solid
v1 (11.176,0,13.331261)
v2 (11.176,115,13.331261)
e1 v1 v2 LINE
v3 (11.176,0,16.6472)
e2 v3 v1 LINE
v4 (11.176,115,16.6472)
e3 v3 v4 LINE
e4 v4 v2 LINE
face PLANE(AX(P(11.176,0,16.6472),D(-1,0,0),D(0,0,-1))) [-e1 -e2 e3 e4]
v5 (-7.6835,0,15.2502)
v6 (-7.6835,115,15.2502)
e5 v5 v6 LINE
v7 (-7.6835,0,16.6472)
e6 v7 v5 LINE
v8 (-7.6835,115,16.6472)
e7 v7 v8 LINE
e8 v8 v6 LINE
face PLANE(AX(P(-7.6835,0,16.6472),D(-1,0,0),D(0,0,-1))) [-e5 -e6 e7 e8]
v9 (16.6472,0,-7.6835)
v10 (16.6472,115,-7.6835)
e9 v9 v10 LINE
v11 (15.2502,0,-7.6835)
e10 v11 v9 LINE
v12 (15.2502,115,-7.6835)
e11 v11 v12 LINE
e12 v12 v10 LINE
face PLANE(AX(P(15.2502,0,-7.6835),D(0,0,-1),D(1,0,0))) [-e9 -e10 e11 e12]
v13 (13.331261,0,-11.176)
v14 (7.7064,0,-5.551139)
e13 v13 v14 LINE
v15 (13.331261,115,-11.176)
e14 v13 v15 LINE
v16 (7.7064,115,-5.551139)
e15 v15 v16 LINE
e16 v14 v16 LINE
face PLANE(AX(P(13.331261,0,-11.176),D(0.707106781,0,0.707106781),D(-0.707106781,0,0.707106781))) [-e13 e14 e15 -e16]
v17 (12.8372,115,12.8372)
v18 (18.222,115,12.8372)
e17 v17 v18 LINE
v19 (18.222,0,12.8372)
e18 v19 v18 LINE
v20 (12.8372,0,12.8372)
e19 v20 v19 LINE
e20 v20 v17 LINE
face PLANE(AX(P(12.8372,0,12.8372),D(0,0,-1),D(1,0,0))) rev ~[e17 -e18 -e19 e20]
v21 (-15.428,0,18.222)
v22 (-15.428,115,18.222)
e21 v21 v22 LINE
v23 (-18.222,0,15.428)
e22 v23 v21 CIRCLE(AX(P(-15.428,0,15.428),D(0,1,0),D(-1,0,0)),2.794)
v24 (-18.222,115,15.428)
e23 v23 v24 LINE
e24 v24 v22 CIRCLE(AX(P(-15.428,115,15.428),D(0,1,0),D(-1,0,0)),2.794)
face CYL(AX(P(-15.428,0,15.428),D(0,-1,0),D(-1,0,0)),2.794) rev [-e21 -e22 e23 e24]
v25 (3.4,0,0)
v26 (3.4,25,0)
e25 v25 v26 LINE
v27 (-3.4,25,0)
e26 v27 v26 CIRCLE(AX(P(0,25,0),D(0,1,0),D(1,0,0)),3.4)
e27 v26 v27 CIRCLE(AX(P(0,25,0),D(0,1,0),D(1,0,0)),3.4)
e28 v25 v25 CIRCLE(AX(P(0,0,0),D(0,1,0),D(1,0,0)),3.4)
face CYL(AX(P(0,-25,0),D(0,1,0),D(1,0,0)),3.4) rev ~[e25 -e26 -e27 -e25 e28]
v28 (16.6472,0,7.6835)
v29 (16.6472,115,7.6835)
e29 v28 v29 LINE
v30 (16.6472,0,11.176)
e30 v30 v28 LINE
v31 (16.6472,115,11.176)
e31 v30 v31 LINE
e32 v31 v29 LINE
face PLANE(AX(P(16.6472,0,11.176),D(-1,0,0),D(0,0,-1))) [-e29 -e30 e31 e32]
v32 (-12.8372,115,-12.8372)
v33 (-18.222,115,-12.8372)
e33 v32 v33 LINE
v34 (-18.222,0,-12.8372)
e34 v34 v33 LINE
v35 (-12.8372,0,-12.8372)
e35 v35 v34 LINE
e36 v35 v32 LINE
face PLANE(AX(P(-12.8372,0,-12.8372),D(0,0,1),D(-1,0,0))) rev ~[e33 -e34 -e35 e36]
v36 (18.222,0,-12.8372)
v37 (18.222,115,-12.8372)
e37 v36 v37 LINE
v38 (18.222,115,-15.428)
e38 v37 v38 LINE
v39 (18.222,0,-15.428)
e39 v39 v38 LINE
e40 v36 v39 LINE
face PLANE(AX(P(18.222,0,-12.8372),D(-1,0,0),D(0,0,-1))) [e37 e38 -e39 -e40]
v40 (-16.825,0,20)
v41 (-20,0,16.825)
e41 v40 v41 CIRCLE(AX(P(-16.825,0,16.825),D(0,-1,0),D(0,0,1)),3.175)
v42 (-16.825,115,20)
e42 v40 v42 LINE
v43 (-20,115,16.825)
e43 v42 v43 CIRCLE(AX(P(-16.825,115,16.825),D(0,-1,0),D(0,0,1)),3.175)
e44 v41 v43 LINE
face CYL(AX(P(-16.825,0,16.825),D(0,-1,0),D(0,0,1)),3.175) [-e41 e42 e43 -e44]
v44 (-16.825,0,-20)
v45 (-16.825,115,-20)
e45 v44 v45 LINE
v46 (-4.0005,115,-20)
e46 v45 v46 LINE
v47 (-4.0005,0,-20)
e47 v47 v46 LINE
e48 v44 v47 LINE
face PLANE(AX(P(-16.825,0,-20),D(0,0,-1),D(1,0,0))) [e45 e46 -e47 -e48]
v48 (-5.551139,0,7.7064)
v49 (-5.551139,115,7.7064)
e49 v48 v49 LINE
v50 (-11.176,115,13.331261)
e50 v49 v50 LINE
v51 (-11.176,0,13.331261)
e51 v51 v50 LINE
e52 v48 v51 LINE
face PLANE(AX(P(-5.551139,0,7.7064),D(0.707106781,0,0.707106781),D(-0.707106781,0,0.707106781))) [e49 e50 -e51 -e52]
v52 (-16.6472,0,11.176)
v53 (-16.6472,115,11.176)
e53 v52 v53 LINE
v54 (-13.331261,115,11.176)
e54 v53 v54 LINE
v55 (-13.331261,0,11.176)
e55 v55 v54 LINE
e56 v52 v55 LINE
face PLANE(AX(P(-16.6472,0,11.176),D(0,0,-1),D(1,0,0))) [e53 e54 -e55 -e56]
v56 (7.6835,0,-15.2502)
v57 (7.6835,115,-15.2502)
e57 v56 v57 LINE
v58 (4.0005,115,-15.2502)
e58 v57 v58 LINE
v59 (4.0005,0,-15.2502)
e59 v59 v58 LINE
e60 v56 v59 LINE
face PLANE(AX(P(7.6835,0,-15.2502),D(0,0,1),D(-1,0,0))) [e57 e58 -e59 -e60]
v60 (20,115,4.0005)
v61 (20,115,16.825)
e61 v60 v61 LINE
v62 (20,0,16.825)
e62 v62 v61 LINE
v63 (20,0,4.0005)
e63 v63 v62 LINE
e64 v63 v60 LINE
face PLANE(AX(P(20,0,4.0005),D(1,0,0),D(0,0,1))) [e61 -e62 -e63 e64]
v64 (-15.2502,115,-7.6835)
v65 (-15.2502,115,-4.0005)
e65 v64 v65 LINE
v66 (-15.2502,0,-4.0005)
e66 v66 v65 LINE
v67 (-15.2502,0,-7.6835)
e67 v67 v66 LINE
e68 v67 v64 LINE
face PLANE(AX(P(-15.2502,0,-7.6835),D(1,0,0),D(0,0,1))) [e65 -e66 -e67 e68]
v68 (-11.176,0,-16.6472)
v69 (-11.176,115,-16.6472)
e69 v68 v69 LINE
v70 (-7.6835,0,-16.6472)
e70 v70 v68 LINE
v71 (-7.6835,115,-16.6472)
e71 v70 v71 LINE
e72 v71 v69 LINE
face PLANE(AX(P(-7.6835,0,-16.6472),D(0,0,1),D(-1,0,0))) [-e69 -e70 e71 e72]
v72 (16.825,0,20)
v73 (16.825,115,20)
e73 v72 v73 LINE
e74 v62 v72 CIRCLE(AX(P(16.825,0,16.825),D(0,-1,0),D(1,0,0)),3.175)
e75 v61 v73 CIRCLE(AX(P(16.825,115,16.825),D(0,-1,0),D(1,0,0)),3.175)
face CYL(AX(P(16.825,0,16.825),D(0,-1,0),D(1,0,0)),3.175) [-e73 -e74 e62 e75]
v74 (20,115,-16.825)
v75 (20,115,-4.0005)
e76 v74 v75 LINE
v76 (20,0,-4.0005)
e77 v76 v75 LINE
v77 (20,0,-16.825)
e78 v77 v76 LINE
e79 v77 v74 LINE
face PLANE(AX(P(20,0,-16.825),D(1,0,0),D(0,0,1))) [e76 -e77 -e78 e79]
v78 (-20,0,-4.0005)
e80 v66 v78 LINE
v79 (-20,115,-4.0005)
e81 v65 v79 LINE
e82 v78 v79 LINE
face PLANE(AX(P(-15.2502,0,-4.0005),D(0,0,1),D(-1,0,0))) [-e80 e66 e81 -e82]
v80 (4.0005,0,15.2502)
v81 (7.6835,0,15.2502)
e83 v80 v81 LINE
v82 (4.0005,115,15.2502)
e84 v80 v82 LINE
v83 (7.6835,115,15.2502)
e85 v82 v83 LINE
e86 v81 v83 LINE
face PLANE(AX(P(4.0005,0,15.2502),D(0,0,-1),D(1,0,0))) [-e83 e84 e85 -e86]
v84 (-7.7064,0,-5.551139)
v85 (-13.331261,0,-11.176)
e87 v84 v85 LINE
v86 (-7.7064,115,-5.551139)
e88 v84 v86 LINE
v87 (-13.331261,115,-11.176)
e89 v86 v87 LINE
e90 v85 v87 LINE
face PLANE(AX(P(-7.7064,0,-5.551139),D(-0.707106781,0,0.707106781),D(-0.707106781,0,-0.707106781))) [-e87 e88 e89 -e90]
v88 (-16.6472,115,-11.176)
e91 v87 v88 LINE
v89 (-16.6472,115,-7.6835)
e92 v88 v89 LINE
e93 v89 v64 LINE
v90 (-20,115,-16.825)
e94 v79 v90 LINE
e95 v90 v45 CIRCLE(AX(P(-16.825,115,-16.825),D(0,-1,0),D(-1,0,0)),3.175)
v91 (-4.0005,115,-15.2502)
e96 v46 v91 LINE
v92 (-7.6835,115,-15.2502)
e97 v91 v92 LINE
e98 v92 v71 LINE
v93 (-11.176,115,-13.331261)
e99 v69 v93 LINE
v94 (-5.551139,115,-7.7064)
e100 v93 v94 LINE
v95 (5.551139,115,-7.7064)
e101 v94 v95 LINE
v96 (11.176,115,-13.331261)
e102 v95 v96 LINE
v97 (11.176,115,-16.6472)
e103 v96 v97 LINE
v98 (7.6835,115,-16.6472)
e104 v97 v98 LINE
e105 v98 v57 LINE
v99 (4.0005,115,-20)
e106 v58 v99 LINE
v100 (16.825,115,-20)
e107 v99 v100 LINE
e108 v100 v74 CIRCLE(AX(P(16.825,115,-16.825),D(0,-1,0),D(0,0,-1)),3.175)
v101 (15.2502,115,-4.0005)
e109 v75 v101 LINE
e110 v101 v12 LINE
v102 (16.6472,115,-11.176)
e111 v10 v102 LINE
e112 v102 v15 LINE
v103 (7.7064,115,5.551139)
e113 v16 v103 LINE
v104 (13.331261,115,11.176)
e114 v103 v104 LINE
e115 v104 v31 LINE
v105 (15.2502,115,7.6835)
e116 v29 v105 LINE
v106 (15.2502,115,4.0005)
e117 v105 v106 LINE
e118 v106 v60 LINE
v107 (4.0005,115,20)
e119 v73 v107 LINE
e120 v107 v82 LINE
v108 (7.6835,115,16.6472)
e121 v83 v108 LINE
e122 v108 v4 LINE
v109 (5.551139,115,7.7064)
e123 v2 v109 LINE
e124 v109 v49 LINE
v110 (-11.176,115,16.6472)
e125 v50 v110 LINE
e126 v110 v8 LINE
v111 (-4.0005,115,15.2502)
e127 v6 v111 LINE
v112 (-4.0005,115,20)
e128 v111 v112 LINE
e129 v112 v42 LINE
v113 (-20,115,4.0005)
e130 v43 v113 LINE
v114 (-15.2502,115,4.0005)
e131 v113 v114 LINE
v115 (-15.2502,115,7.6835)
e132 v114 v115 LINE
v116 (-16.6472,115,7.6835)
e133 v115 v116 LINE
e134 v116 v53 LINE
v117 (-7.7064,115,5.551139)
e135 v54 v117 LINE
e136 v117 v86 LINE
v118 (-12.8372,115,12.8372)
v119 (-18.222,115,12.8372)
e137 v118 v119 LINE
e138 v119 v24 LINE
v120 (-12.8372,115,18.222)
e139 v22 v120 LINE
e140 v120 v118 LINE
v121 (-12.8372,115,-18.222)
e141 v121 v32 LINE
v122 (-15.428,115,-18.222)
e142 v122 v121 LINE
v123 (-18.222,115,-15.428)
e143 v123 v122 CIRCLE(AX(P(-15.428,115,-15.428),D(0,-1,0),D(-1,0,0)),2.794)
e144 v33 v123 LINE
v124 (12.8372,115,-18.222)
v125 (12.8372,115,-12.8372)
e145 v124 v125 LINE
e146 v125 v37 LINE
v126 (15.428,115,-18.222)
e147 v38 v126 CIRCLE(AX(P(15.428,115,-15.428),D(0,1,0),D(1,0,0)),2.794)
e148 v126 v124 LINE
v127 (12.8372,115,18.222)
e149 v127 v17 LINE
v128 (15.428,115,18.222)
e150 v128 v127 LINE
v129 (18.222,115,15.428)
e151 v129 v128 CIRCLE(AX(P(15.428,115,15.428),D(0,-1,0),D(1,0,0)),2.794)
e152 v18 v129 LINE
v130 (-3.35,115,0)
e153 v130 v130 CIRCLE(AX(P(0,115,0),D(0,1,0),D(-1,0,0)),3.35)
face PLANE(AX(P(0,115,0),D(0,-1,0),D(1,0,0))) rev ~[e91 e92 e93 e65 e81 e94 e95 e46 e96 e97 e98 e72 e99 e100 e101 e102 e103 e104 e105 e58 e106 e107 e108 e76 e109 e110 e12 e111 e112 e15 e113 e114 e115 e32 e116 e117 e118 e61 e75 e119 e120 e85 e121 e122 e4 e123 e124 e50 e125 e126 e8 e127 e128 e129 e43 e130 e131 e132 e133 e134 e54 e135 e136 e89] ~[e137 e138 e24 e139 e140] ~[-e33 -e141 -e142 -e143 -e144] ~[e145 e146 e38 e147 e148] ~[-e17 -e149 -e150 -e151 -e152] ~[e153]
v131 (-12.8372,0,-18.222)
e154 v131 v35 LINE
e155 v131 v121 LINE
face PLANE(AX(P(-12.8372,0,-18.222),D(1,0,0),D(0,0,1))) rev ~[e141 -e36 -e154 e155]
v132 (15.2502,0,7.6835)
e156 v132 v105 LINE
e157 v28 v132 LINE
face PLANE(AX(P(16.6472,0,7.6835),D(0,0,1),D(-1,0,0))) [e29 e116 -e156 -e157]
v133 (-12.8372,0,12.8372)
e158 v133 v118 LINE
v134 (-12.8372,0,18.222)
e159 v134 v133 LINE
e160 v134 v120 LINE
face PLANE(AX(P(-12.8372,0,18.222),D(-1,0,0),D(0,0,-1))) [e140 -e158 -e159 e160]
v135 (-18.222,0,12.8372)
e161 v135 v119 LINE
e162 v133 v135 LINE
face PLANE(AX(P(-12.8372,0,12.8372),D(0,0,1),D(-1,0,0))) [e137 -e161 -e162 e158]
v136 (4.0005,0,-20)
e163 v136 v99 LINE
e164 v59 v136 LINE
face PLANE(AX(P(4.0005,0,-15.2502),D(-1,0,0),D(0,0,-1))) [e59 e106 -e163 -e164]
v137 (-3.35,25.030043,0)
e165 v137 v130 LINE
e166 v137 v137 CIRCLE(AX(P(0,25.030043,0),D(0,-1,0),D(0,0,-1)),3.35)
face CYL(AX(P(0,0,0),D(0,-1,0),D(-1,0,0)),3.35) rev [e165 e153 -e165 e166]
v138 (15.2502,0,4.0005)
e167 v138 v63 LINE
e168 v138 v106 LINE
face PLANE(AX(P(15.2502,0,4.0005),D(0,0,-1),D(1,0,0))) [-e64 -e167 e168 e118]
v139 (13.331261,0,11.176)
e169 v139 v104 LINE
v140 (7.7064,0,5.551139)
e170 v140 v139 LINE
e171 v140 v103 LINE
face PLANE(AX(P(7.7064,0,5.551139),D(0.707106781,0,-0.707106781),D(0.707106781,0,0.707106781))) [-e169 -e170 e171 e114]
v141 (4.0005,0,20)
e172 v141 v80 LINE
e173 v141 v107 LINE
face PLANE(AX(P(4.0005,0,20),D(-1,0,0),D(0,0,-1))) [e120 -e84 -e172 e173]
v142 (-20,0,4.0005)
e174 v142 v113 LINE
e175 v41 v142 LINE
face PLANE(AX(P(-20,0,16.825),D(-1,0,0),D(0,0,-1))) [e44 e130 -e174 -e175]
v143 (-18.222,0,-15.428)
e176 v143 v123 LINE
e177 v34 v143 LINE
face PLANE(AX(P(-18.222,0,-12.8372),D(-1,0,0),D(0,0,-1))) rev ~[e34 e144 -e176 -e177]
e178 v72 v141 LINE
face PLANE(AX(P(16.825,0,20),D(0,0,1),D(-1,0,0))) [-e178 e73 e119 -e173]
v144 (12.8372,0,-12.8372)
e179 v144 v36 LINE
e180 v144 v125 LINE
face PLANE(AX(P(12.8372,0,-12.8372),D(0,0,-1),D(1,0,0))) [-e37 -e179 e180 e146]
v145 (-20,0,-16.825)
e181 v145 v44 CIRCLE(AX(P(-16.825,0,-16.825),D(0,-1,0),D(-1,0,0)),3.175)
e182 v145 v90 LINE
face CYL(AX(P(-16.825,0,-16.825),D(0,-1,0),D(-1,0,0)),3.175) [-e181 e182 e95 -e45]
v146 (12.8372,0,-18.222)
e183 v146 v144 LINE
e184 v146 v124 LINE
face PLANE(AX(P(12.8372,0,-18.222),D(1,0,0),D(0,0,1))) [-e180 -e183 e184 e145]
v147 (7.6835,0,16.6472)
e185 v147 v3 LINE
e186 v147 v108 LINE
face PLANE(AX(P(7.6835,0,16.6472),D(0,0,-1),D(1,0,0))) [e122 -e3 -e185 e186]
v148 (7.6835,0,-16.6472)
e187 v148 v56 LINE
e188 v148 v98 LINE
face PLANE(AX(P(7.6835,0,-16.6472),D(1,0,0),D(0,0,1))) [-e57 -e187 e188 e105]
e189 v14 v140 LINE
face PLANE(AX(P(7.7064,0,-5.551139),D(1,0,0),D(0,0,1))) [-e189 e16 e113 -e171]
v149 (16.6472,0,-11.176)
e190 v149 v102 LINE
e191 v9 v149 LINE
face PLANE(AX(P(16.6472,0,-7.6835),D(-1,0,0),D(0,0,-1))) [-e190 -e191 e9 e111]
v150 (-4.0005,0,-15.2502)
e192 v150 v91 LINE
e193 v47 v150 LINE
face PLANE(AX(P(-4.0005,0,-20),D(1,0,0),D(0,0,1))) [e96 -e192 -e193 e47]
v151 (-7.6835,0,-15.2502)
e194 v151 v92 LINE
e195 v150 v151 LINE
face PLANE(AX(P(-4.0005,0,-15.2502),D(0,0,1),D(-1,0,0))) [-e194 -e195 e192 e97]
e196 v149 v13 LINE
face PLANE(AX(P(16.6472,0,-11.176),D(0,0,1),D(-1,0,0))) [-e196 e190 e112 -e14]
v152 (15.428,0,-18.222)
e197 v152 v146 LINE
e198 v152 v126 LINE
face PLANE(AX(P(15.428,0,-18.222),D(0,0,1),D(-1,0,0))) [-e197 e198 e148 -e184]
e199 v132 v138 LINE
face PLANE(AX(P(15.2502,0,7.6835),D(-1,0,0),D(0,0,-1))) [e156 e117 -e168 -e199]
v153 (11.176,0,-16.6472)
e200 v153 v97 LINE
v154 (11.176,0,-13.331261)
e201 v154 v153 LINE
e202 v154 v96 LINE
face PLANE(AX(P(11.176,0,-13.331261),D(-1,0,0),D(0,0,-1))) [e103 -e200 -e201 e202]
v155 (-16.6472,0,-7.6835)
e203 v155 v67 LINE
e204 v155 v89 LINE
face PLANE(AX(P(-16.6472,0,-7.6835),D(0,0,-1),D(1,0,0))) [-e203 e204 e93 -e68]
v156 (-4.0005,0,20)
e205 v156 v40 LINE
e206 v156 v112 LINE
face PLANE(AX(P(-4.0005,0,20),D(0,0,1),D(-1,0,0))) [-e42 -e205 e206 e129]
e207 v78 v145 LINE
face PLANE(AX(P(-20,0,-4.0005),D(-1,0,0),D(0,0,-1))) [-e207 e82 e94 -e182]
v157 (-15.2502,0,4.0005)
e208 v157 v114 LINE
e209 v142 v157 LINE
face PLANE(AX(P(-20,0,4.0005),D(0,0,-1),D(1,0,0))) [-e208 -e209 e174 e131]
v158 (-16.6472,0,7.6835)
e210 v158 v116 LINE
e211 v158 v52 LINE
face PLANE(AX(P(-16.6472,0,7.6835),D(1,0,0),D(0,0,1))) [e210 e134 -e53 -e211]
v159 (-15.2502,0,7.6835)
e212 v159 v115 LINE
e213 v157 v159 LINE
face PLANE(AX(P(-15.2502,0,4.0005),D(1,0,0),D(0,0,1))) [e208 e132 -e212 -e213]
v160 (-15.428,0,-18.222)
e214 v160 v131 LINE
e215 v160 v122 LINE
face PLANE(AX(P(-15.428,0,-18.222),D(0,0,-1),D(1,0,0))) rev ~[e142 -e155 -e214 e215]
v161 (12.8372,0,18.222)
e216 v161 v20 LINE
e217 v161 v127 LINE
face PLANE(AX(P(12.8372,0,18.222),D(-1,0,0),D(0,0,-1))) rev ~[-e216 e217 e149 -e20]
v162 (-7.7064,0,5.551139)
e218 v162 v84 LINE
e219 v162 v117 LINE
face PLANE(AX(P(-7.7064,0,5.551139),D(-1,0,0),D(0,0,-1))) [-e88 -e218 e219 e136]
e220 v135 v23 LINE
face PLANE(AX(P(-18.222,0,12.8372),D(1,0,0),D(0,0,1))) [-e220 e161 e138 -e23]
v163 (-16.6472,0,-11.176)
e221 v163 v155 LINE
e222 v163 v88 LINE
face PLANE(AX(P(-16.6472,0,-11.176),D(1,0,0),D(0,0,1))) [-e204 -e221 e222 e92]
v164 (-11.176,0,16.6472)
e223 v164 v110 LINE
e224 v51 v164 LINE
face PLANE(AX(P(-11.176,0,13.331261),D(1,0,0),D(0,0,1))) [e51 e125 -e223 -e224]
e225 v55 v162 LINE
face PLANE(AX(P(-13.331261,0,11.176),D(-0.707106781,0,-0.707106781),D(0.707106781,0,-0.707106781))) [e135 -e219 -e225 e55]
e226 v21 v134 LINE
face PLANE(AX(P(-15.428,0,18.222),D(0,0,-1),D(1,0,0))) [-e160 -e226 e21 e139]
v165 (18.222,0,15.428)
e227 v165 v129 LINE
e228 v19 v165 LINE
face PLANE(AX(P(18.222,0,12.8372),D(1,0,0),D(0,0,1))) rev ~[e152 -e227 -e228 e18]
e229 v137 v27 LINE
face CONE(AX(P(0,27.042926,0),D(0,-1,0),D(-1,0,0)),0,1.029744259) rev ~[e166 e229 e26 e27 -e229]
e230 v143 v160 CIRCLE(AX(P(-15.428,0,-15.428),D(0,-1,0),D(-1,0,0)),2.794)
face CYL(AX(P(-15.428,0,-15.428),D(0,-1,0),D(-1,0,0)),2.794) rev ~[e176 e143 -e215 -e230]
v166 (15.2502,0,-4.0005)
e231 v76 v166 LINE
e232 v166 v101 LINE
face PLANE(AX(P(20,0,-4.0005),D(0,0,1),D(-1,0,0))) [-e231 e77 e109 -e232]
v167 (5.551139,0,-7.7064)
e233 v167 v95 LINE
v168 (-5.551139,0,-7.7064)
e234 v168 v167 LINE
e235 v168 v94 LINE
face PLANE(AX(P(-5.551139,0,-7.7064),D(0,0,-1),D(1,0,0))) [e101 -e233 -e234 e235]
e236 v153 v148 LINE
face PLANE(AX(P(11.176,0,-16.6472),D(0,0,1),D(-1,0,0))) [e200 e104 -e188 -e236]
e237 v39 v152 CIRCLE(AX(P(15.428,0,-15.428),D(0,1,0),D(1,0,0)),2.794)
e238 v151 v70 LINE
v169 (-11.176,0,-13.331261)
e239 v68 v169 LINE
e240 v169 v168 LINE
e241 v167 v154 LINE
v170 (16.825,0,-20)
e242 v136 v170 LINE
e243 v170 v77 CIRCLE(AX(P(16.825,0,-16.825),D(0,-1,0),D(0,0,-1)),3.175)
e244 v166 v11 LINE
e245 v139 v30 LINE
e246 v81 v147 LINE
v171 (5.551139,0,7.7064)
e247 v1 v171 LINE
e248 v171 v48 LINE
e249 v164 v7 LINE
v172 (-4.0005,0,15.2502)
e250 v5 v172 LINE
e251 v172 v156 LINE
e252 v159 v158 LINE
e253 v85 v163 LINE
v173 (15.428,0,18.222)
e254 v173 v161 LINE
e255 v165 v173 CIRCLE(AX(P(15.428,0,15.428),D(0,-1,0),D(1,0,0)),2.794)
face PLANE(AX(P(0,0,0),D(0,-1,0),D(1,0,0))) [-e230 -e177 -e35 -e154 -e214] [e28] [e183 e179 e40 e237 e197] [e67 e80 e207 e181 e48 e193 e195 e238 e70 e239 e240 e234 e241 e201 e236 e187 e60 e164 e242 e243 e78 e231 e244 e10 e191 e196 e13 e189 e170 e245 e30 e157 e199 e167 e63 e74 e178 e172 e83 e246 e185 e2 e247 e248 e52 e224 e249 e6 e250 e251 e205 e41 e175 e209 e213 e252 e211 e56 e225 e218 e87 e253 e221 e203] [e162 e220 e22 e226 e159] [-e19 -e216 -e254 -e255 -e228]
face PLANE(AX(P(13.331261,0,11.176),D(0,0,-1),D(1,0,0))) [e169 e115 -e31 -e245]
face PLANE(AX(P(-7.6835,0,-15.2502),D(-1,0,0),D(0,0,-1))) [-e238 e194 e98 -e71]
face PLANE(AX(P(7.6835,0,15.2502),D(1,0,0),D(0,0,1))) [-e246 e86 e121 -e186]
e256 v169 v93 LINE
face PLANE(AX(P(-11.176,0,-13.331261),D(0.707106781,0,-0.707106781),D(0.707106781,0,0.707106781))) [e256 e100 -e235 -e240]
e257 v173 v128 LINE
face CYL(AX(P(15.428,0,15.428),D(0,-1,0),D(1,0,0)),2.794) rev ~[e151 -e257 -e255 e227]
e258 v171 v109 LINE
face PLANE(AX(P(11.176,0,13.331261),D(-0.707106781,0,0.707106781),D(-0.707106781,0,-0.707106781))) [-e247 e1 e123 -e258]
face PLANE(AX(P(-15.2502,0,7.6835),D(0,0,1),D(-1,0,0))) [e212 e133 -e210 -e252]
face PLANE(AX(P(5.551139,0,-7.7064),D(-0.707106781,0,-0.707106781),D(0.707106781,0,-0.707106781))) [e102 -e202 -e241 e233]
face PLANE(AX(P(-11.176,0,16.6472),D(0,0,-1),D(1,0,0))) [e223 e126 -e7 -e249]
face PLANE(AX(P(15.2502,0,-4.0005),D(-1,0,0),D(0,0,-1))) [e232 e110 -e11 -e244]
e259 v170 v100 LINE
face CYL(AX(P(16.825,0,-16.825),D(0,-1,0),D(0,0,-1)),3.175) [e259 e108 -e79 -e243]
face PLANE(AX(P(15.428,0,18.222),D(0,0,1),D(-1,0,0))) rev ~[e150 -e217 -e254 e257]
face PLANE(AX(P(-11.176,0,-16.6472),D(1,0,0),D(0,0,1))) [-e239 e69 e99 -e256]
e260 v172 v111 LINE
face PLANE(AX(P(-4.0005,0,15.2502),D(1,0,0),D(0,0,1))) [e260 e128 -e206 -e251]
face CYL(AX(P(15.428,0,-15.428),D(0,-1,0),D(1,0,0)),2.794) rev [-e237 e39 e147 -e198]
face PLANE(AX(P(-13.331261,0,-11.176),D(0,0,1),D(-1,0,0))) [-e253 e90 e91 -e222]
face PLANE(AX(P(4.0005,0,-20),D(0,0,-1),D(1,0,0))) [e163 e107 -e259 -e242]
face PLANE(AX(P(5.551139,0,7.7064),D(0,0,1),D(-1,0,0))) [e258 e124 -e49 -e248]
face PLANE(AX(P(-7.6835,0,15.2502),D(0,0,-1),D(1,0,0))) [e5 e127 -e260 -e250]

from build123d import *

# Parameters (mm, degrees)
SKETCH2_R                            = 3.35
F_40_SERIES_TS40_40LM_650033_2_DEPTH = 115
M8X1_25_TAPPED_HOLE3_D               = 6.8
M8X1_25_TAPPED_HOLE3_DEPTH           = 25
M8X1_25_TAPPED_HOLE3_TIP             = 2.042926105


with BuildPart() as part:
    # Sketch2 → 40 series TS40-40LM-650033(2) (new body)
    with BuildSketch(Plane(origin=(0, 0, 0), x_dir=(-1, 0, 0), z_dir=(0, 1, 0))):
        with BuildLine():
            Line((-7.7064, 0), (-7.7064, 5.551138531))
            Line((-7.7064, 5.551138531), (-13.331261469, 11.176))
            Line((-13.331261469, 11.176), (-16.6472, 11.176))
            Line((-16.6472, 11.176), (-16.6472, 7.6835))
            Line((-16.6472, 7.6835), (-15.2502, 7.6835))
            Line((-15.2502, 7.6835), (-15.2502, 4.0005))
            Line((-15.2502, 4.0005), (-20, 4.0005))
            Line((-20, 4.0005), (-20, 16.825))
            ThreePointArc((-20, 16.825), (-19.07006403, 19.07006403), (-16.825, 20))
            Line((-16.825, 20), (-4.0005, 20))
            Line((-4.0005, 20), (-4.0005, 15.2502))
            Line((-4.0005, 15.2502), (-7.6835, 15.2502))
            Line((-7.6835, 15.2502), (-7.6835, 16.6472))
            Line((-7.6835, 16.6472), (-11.176, 16.6472))
            Line((-11.176, 16.6472), (-11.176, 13.331261469))
            Line((-11.176, 13.331261469), (-5.551138531, 7.7064))
            Line((-5.551138531, 7.7064), (0, 7.7064))
            Line((0, 7.7064), (5.551138531, 7.7064))
            Line((5.551138531, 7.7064), (11.176, 13.331261469))
            Line((11.176, 13.331261469), (11.176, 16.6472))
            Line((11.176, 16.6472), (7.6835, 16.6472))
            Line((7.6835, 16.6472), (7.6835, 15.2502))
            Line((7.6835, 15.2502), (4.0005, 15.2502))
            Line((4.0005, 15.2502), (4.0005, 20))
            Line((4.0005, 20), (16.825, 20))
            ThreePointArc((16.825, 20), (19.07006403, 19.07006403), (20, 16.825))
            Line((20, 16.825), (20, 4.0005))
            Line((20, 4.0005), (15.2502, 4.0005))
            Line((15.2502, 4.0005), (15.2502, 7.6835))
            Line((15.2502, 7.6835), (16.6472, 7.6835))
            Line((16.6472, 7.6835), (16.6472, 11.176))
            Line((16.6472, 11.176), (13.331261469, 11.176))
            Line((13.331261469, 11.176), (7.7064, 5.551138531))
            Line((7.7064, 5.551138531), (7.7064, 0))
            Line((7.7064, 0), (7.7064, -5.551138531))
            Line((7.7064, -5.551138531), (13.331261469, -11.176))
            Line((13.331261469, -11.176), (16.6472, -11.176))
            Line((16.6472, -11.176), (16.6472, -7.6835))
            Line((16.6472, -7.6835), (15.2502, -7.6835))
            Line((15.2502, -7.6835), (15.2502, -4.0005))
            Line((15.2502, -4.0005), (20, -4.0005))
            Line((20, -4.0005), (20, -16.825))
            ThreePointArc((20, -16.825), (19.07006403, -19.07006403), (16.825, -20))
            Line((16.825, -20), (4.0005, -20))
            Line((4.0005, -20), (4.0005, -15.2502))
            Line((4.0005, -15.2502), (7.6835, -15.2502))
            Line((7.6835, -15.2502), (7.6835, -16.6472))
            Line((7.6835, -16.6472), (11.176, -16.6472))
            Line((11.176, -16.6472), (11.176, -13.331261469))
            Line((11.176, -13.331261469), (5.551138531, -7.7064))
            Line((5.551138531, -7.7064), (0, -7.7064))
            Line((0, -7.7064), (-5.551138531, -7.7064))
            Line((-5.551138531, -7.7064), (-11.176, -13.331261469))
            Line((-11.176, -13.331261469), (-11.176, -16.6472))
            Line((-11.176, -16.6472), (-7.6835, -16.6472))
            Line((-7.6835, -16.6472), (-7.6835, -15.2502))
            Line((-7.6835, -15.2502), (-4.0005, -15.2502))
            Line((-4.0005, -15.2502), (-4.0005, -20))
            Line((-4.0005, -20), (-16.825, -20))
            ThreePointArc((-16.825, -20), (-19.07006403, -19.07006403), (-20, -16.825))
            Line((-20, -16.825), (-20, -4.0005))
            Line((-20, -4.0005), (-15.2502, -4.0005))
            Line((-15.2502, -4.0005), (-15.2502, -7.6835))
            Line((-15.2502, -7.6835), (-16.6472, -7.6835))
            Line((-16.6472, -7.6835), (-16.6472, -11.176))
            Line((-16.6472, -11.176), (-13.331261469, -11.176))
            Line((-13.331261469, -11.176), (-7.7064, -5.551138531))
            Line((-7.7064, -5.551138531), (-7.7064, 0))
        make_face()
        Circle(SKETCH2_R, mode=Mode.SUBTRACT)
        with BuildLine():
            Line((18.222, 12.8372), (18.222, 15.428))
            ThreePointArc((18.222, 15.428), (17.403656347, 17.403656347), (15.428, 18.222))
            Line((15.428, 18.222), (12.8372, 18.222))
            Line((12.8372, 18.222), (12.8372, 12.8372))
            Line((12.8372, 12.8372), (18.222, 12.8372))
        make_face(mode=Mode.SUBTRACT)
        with BuildLine():
            Line((12.8372, -12.8372), (18.222, -12.8372))
            Line((18.222, -12.8372), (18.222, -15.428))
            ThreePointArc((18.222, -15.428), (17.403656347, -17.403656347), (15.428, -18.222))
            Line((15.428, -18.222), (12.8372, -18.222))
            Line((12.8372, -18.222), (12.8372, -12.8372))
        make_face(mode=Mode.SUBTRACT)
        with BuildLine():
            Line((-18.222, -12.8372), (-18.222, -15.428))
            ThreePointArc((-18.222, -15.428), (-17.403656347, -17.403656347), (-15.428, -18.222))
            Line((-15.428, -18.222), (-12.8372, -18.222))
            Line((-12.8372, -18.222), (-12.8372, -12.8372))
            Line((-12.8372, -12.8372), (-18.222, -12.8372))
        make_face(mode=Mode.SUBTRACT)
        with BuildLine():
            Line((-12.8372, 12.8372), (-18.222, 12.8372))
            Line((-18.222, 12.8372), (-18.222, 15.428))
            ThreePointArc((-18.222, 15.428), (-17.403656347, 17.403656347), (-15.428, 18.222))
            Line((-15.428, 18.222), (-12.8372, 18.222))
            Line((-12.8372, 18.222), (-12.8372, 12.8372))
        make_face(mode=Mode.SUBTRACT)
    extrude(amount=F_40_SERIES_TS40_40LM_650033_2_DEPTH)

    # M8x1.25 Tapped Hole3
    with Locations(Plane(origin=(0, 0, 0), x_dir=(-1, 0, 0), z_dir=(0, -1, 0))):
        with Locations((0, 0)):
            Hole(M8X1_25_TAPPED_HOLE3_D / 2, depth=M8X1_25_TAPPED_HOLE3_DEPTH)
            with Locations((0, 0, -(M8X1_25_TAPPED_HOLE3_DEPTH + M8X1_25_TAPPED_HOLE3_TIP / 2))):  # 118° drill point
                Cone(0, M8X1_25_TAPPED_HOLE3_D / 2, M8X1_25_TAPPED_HOLE3_TIP, mode=Mode.SUBTRACT)


solid = part.part
